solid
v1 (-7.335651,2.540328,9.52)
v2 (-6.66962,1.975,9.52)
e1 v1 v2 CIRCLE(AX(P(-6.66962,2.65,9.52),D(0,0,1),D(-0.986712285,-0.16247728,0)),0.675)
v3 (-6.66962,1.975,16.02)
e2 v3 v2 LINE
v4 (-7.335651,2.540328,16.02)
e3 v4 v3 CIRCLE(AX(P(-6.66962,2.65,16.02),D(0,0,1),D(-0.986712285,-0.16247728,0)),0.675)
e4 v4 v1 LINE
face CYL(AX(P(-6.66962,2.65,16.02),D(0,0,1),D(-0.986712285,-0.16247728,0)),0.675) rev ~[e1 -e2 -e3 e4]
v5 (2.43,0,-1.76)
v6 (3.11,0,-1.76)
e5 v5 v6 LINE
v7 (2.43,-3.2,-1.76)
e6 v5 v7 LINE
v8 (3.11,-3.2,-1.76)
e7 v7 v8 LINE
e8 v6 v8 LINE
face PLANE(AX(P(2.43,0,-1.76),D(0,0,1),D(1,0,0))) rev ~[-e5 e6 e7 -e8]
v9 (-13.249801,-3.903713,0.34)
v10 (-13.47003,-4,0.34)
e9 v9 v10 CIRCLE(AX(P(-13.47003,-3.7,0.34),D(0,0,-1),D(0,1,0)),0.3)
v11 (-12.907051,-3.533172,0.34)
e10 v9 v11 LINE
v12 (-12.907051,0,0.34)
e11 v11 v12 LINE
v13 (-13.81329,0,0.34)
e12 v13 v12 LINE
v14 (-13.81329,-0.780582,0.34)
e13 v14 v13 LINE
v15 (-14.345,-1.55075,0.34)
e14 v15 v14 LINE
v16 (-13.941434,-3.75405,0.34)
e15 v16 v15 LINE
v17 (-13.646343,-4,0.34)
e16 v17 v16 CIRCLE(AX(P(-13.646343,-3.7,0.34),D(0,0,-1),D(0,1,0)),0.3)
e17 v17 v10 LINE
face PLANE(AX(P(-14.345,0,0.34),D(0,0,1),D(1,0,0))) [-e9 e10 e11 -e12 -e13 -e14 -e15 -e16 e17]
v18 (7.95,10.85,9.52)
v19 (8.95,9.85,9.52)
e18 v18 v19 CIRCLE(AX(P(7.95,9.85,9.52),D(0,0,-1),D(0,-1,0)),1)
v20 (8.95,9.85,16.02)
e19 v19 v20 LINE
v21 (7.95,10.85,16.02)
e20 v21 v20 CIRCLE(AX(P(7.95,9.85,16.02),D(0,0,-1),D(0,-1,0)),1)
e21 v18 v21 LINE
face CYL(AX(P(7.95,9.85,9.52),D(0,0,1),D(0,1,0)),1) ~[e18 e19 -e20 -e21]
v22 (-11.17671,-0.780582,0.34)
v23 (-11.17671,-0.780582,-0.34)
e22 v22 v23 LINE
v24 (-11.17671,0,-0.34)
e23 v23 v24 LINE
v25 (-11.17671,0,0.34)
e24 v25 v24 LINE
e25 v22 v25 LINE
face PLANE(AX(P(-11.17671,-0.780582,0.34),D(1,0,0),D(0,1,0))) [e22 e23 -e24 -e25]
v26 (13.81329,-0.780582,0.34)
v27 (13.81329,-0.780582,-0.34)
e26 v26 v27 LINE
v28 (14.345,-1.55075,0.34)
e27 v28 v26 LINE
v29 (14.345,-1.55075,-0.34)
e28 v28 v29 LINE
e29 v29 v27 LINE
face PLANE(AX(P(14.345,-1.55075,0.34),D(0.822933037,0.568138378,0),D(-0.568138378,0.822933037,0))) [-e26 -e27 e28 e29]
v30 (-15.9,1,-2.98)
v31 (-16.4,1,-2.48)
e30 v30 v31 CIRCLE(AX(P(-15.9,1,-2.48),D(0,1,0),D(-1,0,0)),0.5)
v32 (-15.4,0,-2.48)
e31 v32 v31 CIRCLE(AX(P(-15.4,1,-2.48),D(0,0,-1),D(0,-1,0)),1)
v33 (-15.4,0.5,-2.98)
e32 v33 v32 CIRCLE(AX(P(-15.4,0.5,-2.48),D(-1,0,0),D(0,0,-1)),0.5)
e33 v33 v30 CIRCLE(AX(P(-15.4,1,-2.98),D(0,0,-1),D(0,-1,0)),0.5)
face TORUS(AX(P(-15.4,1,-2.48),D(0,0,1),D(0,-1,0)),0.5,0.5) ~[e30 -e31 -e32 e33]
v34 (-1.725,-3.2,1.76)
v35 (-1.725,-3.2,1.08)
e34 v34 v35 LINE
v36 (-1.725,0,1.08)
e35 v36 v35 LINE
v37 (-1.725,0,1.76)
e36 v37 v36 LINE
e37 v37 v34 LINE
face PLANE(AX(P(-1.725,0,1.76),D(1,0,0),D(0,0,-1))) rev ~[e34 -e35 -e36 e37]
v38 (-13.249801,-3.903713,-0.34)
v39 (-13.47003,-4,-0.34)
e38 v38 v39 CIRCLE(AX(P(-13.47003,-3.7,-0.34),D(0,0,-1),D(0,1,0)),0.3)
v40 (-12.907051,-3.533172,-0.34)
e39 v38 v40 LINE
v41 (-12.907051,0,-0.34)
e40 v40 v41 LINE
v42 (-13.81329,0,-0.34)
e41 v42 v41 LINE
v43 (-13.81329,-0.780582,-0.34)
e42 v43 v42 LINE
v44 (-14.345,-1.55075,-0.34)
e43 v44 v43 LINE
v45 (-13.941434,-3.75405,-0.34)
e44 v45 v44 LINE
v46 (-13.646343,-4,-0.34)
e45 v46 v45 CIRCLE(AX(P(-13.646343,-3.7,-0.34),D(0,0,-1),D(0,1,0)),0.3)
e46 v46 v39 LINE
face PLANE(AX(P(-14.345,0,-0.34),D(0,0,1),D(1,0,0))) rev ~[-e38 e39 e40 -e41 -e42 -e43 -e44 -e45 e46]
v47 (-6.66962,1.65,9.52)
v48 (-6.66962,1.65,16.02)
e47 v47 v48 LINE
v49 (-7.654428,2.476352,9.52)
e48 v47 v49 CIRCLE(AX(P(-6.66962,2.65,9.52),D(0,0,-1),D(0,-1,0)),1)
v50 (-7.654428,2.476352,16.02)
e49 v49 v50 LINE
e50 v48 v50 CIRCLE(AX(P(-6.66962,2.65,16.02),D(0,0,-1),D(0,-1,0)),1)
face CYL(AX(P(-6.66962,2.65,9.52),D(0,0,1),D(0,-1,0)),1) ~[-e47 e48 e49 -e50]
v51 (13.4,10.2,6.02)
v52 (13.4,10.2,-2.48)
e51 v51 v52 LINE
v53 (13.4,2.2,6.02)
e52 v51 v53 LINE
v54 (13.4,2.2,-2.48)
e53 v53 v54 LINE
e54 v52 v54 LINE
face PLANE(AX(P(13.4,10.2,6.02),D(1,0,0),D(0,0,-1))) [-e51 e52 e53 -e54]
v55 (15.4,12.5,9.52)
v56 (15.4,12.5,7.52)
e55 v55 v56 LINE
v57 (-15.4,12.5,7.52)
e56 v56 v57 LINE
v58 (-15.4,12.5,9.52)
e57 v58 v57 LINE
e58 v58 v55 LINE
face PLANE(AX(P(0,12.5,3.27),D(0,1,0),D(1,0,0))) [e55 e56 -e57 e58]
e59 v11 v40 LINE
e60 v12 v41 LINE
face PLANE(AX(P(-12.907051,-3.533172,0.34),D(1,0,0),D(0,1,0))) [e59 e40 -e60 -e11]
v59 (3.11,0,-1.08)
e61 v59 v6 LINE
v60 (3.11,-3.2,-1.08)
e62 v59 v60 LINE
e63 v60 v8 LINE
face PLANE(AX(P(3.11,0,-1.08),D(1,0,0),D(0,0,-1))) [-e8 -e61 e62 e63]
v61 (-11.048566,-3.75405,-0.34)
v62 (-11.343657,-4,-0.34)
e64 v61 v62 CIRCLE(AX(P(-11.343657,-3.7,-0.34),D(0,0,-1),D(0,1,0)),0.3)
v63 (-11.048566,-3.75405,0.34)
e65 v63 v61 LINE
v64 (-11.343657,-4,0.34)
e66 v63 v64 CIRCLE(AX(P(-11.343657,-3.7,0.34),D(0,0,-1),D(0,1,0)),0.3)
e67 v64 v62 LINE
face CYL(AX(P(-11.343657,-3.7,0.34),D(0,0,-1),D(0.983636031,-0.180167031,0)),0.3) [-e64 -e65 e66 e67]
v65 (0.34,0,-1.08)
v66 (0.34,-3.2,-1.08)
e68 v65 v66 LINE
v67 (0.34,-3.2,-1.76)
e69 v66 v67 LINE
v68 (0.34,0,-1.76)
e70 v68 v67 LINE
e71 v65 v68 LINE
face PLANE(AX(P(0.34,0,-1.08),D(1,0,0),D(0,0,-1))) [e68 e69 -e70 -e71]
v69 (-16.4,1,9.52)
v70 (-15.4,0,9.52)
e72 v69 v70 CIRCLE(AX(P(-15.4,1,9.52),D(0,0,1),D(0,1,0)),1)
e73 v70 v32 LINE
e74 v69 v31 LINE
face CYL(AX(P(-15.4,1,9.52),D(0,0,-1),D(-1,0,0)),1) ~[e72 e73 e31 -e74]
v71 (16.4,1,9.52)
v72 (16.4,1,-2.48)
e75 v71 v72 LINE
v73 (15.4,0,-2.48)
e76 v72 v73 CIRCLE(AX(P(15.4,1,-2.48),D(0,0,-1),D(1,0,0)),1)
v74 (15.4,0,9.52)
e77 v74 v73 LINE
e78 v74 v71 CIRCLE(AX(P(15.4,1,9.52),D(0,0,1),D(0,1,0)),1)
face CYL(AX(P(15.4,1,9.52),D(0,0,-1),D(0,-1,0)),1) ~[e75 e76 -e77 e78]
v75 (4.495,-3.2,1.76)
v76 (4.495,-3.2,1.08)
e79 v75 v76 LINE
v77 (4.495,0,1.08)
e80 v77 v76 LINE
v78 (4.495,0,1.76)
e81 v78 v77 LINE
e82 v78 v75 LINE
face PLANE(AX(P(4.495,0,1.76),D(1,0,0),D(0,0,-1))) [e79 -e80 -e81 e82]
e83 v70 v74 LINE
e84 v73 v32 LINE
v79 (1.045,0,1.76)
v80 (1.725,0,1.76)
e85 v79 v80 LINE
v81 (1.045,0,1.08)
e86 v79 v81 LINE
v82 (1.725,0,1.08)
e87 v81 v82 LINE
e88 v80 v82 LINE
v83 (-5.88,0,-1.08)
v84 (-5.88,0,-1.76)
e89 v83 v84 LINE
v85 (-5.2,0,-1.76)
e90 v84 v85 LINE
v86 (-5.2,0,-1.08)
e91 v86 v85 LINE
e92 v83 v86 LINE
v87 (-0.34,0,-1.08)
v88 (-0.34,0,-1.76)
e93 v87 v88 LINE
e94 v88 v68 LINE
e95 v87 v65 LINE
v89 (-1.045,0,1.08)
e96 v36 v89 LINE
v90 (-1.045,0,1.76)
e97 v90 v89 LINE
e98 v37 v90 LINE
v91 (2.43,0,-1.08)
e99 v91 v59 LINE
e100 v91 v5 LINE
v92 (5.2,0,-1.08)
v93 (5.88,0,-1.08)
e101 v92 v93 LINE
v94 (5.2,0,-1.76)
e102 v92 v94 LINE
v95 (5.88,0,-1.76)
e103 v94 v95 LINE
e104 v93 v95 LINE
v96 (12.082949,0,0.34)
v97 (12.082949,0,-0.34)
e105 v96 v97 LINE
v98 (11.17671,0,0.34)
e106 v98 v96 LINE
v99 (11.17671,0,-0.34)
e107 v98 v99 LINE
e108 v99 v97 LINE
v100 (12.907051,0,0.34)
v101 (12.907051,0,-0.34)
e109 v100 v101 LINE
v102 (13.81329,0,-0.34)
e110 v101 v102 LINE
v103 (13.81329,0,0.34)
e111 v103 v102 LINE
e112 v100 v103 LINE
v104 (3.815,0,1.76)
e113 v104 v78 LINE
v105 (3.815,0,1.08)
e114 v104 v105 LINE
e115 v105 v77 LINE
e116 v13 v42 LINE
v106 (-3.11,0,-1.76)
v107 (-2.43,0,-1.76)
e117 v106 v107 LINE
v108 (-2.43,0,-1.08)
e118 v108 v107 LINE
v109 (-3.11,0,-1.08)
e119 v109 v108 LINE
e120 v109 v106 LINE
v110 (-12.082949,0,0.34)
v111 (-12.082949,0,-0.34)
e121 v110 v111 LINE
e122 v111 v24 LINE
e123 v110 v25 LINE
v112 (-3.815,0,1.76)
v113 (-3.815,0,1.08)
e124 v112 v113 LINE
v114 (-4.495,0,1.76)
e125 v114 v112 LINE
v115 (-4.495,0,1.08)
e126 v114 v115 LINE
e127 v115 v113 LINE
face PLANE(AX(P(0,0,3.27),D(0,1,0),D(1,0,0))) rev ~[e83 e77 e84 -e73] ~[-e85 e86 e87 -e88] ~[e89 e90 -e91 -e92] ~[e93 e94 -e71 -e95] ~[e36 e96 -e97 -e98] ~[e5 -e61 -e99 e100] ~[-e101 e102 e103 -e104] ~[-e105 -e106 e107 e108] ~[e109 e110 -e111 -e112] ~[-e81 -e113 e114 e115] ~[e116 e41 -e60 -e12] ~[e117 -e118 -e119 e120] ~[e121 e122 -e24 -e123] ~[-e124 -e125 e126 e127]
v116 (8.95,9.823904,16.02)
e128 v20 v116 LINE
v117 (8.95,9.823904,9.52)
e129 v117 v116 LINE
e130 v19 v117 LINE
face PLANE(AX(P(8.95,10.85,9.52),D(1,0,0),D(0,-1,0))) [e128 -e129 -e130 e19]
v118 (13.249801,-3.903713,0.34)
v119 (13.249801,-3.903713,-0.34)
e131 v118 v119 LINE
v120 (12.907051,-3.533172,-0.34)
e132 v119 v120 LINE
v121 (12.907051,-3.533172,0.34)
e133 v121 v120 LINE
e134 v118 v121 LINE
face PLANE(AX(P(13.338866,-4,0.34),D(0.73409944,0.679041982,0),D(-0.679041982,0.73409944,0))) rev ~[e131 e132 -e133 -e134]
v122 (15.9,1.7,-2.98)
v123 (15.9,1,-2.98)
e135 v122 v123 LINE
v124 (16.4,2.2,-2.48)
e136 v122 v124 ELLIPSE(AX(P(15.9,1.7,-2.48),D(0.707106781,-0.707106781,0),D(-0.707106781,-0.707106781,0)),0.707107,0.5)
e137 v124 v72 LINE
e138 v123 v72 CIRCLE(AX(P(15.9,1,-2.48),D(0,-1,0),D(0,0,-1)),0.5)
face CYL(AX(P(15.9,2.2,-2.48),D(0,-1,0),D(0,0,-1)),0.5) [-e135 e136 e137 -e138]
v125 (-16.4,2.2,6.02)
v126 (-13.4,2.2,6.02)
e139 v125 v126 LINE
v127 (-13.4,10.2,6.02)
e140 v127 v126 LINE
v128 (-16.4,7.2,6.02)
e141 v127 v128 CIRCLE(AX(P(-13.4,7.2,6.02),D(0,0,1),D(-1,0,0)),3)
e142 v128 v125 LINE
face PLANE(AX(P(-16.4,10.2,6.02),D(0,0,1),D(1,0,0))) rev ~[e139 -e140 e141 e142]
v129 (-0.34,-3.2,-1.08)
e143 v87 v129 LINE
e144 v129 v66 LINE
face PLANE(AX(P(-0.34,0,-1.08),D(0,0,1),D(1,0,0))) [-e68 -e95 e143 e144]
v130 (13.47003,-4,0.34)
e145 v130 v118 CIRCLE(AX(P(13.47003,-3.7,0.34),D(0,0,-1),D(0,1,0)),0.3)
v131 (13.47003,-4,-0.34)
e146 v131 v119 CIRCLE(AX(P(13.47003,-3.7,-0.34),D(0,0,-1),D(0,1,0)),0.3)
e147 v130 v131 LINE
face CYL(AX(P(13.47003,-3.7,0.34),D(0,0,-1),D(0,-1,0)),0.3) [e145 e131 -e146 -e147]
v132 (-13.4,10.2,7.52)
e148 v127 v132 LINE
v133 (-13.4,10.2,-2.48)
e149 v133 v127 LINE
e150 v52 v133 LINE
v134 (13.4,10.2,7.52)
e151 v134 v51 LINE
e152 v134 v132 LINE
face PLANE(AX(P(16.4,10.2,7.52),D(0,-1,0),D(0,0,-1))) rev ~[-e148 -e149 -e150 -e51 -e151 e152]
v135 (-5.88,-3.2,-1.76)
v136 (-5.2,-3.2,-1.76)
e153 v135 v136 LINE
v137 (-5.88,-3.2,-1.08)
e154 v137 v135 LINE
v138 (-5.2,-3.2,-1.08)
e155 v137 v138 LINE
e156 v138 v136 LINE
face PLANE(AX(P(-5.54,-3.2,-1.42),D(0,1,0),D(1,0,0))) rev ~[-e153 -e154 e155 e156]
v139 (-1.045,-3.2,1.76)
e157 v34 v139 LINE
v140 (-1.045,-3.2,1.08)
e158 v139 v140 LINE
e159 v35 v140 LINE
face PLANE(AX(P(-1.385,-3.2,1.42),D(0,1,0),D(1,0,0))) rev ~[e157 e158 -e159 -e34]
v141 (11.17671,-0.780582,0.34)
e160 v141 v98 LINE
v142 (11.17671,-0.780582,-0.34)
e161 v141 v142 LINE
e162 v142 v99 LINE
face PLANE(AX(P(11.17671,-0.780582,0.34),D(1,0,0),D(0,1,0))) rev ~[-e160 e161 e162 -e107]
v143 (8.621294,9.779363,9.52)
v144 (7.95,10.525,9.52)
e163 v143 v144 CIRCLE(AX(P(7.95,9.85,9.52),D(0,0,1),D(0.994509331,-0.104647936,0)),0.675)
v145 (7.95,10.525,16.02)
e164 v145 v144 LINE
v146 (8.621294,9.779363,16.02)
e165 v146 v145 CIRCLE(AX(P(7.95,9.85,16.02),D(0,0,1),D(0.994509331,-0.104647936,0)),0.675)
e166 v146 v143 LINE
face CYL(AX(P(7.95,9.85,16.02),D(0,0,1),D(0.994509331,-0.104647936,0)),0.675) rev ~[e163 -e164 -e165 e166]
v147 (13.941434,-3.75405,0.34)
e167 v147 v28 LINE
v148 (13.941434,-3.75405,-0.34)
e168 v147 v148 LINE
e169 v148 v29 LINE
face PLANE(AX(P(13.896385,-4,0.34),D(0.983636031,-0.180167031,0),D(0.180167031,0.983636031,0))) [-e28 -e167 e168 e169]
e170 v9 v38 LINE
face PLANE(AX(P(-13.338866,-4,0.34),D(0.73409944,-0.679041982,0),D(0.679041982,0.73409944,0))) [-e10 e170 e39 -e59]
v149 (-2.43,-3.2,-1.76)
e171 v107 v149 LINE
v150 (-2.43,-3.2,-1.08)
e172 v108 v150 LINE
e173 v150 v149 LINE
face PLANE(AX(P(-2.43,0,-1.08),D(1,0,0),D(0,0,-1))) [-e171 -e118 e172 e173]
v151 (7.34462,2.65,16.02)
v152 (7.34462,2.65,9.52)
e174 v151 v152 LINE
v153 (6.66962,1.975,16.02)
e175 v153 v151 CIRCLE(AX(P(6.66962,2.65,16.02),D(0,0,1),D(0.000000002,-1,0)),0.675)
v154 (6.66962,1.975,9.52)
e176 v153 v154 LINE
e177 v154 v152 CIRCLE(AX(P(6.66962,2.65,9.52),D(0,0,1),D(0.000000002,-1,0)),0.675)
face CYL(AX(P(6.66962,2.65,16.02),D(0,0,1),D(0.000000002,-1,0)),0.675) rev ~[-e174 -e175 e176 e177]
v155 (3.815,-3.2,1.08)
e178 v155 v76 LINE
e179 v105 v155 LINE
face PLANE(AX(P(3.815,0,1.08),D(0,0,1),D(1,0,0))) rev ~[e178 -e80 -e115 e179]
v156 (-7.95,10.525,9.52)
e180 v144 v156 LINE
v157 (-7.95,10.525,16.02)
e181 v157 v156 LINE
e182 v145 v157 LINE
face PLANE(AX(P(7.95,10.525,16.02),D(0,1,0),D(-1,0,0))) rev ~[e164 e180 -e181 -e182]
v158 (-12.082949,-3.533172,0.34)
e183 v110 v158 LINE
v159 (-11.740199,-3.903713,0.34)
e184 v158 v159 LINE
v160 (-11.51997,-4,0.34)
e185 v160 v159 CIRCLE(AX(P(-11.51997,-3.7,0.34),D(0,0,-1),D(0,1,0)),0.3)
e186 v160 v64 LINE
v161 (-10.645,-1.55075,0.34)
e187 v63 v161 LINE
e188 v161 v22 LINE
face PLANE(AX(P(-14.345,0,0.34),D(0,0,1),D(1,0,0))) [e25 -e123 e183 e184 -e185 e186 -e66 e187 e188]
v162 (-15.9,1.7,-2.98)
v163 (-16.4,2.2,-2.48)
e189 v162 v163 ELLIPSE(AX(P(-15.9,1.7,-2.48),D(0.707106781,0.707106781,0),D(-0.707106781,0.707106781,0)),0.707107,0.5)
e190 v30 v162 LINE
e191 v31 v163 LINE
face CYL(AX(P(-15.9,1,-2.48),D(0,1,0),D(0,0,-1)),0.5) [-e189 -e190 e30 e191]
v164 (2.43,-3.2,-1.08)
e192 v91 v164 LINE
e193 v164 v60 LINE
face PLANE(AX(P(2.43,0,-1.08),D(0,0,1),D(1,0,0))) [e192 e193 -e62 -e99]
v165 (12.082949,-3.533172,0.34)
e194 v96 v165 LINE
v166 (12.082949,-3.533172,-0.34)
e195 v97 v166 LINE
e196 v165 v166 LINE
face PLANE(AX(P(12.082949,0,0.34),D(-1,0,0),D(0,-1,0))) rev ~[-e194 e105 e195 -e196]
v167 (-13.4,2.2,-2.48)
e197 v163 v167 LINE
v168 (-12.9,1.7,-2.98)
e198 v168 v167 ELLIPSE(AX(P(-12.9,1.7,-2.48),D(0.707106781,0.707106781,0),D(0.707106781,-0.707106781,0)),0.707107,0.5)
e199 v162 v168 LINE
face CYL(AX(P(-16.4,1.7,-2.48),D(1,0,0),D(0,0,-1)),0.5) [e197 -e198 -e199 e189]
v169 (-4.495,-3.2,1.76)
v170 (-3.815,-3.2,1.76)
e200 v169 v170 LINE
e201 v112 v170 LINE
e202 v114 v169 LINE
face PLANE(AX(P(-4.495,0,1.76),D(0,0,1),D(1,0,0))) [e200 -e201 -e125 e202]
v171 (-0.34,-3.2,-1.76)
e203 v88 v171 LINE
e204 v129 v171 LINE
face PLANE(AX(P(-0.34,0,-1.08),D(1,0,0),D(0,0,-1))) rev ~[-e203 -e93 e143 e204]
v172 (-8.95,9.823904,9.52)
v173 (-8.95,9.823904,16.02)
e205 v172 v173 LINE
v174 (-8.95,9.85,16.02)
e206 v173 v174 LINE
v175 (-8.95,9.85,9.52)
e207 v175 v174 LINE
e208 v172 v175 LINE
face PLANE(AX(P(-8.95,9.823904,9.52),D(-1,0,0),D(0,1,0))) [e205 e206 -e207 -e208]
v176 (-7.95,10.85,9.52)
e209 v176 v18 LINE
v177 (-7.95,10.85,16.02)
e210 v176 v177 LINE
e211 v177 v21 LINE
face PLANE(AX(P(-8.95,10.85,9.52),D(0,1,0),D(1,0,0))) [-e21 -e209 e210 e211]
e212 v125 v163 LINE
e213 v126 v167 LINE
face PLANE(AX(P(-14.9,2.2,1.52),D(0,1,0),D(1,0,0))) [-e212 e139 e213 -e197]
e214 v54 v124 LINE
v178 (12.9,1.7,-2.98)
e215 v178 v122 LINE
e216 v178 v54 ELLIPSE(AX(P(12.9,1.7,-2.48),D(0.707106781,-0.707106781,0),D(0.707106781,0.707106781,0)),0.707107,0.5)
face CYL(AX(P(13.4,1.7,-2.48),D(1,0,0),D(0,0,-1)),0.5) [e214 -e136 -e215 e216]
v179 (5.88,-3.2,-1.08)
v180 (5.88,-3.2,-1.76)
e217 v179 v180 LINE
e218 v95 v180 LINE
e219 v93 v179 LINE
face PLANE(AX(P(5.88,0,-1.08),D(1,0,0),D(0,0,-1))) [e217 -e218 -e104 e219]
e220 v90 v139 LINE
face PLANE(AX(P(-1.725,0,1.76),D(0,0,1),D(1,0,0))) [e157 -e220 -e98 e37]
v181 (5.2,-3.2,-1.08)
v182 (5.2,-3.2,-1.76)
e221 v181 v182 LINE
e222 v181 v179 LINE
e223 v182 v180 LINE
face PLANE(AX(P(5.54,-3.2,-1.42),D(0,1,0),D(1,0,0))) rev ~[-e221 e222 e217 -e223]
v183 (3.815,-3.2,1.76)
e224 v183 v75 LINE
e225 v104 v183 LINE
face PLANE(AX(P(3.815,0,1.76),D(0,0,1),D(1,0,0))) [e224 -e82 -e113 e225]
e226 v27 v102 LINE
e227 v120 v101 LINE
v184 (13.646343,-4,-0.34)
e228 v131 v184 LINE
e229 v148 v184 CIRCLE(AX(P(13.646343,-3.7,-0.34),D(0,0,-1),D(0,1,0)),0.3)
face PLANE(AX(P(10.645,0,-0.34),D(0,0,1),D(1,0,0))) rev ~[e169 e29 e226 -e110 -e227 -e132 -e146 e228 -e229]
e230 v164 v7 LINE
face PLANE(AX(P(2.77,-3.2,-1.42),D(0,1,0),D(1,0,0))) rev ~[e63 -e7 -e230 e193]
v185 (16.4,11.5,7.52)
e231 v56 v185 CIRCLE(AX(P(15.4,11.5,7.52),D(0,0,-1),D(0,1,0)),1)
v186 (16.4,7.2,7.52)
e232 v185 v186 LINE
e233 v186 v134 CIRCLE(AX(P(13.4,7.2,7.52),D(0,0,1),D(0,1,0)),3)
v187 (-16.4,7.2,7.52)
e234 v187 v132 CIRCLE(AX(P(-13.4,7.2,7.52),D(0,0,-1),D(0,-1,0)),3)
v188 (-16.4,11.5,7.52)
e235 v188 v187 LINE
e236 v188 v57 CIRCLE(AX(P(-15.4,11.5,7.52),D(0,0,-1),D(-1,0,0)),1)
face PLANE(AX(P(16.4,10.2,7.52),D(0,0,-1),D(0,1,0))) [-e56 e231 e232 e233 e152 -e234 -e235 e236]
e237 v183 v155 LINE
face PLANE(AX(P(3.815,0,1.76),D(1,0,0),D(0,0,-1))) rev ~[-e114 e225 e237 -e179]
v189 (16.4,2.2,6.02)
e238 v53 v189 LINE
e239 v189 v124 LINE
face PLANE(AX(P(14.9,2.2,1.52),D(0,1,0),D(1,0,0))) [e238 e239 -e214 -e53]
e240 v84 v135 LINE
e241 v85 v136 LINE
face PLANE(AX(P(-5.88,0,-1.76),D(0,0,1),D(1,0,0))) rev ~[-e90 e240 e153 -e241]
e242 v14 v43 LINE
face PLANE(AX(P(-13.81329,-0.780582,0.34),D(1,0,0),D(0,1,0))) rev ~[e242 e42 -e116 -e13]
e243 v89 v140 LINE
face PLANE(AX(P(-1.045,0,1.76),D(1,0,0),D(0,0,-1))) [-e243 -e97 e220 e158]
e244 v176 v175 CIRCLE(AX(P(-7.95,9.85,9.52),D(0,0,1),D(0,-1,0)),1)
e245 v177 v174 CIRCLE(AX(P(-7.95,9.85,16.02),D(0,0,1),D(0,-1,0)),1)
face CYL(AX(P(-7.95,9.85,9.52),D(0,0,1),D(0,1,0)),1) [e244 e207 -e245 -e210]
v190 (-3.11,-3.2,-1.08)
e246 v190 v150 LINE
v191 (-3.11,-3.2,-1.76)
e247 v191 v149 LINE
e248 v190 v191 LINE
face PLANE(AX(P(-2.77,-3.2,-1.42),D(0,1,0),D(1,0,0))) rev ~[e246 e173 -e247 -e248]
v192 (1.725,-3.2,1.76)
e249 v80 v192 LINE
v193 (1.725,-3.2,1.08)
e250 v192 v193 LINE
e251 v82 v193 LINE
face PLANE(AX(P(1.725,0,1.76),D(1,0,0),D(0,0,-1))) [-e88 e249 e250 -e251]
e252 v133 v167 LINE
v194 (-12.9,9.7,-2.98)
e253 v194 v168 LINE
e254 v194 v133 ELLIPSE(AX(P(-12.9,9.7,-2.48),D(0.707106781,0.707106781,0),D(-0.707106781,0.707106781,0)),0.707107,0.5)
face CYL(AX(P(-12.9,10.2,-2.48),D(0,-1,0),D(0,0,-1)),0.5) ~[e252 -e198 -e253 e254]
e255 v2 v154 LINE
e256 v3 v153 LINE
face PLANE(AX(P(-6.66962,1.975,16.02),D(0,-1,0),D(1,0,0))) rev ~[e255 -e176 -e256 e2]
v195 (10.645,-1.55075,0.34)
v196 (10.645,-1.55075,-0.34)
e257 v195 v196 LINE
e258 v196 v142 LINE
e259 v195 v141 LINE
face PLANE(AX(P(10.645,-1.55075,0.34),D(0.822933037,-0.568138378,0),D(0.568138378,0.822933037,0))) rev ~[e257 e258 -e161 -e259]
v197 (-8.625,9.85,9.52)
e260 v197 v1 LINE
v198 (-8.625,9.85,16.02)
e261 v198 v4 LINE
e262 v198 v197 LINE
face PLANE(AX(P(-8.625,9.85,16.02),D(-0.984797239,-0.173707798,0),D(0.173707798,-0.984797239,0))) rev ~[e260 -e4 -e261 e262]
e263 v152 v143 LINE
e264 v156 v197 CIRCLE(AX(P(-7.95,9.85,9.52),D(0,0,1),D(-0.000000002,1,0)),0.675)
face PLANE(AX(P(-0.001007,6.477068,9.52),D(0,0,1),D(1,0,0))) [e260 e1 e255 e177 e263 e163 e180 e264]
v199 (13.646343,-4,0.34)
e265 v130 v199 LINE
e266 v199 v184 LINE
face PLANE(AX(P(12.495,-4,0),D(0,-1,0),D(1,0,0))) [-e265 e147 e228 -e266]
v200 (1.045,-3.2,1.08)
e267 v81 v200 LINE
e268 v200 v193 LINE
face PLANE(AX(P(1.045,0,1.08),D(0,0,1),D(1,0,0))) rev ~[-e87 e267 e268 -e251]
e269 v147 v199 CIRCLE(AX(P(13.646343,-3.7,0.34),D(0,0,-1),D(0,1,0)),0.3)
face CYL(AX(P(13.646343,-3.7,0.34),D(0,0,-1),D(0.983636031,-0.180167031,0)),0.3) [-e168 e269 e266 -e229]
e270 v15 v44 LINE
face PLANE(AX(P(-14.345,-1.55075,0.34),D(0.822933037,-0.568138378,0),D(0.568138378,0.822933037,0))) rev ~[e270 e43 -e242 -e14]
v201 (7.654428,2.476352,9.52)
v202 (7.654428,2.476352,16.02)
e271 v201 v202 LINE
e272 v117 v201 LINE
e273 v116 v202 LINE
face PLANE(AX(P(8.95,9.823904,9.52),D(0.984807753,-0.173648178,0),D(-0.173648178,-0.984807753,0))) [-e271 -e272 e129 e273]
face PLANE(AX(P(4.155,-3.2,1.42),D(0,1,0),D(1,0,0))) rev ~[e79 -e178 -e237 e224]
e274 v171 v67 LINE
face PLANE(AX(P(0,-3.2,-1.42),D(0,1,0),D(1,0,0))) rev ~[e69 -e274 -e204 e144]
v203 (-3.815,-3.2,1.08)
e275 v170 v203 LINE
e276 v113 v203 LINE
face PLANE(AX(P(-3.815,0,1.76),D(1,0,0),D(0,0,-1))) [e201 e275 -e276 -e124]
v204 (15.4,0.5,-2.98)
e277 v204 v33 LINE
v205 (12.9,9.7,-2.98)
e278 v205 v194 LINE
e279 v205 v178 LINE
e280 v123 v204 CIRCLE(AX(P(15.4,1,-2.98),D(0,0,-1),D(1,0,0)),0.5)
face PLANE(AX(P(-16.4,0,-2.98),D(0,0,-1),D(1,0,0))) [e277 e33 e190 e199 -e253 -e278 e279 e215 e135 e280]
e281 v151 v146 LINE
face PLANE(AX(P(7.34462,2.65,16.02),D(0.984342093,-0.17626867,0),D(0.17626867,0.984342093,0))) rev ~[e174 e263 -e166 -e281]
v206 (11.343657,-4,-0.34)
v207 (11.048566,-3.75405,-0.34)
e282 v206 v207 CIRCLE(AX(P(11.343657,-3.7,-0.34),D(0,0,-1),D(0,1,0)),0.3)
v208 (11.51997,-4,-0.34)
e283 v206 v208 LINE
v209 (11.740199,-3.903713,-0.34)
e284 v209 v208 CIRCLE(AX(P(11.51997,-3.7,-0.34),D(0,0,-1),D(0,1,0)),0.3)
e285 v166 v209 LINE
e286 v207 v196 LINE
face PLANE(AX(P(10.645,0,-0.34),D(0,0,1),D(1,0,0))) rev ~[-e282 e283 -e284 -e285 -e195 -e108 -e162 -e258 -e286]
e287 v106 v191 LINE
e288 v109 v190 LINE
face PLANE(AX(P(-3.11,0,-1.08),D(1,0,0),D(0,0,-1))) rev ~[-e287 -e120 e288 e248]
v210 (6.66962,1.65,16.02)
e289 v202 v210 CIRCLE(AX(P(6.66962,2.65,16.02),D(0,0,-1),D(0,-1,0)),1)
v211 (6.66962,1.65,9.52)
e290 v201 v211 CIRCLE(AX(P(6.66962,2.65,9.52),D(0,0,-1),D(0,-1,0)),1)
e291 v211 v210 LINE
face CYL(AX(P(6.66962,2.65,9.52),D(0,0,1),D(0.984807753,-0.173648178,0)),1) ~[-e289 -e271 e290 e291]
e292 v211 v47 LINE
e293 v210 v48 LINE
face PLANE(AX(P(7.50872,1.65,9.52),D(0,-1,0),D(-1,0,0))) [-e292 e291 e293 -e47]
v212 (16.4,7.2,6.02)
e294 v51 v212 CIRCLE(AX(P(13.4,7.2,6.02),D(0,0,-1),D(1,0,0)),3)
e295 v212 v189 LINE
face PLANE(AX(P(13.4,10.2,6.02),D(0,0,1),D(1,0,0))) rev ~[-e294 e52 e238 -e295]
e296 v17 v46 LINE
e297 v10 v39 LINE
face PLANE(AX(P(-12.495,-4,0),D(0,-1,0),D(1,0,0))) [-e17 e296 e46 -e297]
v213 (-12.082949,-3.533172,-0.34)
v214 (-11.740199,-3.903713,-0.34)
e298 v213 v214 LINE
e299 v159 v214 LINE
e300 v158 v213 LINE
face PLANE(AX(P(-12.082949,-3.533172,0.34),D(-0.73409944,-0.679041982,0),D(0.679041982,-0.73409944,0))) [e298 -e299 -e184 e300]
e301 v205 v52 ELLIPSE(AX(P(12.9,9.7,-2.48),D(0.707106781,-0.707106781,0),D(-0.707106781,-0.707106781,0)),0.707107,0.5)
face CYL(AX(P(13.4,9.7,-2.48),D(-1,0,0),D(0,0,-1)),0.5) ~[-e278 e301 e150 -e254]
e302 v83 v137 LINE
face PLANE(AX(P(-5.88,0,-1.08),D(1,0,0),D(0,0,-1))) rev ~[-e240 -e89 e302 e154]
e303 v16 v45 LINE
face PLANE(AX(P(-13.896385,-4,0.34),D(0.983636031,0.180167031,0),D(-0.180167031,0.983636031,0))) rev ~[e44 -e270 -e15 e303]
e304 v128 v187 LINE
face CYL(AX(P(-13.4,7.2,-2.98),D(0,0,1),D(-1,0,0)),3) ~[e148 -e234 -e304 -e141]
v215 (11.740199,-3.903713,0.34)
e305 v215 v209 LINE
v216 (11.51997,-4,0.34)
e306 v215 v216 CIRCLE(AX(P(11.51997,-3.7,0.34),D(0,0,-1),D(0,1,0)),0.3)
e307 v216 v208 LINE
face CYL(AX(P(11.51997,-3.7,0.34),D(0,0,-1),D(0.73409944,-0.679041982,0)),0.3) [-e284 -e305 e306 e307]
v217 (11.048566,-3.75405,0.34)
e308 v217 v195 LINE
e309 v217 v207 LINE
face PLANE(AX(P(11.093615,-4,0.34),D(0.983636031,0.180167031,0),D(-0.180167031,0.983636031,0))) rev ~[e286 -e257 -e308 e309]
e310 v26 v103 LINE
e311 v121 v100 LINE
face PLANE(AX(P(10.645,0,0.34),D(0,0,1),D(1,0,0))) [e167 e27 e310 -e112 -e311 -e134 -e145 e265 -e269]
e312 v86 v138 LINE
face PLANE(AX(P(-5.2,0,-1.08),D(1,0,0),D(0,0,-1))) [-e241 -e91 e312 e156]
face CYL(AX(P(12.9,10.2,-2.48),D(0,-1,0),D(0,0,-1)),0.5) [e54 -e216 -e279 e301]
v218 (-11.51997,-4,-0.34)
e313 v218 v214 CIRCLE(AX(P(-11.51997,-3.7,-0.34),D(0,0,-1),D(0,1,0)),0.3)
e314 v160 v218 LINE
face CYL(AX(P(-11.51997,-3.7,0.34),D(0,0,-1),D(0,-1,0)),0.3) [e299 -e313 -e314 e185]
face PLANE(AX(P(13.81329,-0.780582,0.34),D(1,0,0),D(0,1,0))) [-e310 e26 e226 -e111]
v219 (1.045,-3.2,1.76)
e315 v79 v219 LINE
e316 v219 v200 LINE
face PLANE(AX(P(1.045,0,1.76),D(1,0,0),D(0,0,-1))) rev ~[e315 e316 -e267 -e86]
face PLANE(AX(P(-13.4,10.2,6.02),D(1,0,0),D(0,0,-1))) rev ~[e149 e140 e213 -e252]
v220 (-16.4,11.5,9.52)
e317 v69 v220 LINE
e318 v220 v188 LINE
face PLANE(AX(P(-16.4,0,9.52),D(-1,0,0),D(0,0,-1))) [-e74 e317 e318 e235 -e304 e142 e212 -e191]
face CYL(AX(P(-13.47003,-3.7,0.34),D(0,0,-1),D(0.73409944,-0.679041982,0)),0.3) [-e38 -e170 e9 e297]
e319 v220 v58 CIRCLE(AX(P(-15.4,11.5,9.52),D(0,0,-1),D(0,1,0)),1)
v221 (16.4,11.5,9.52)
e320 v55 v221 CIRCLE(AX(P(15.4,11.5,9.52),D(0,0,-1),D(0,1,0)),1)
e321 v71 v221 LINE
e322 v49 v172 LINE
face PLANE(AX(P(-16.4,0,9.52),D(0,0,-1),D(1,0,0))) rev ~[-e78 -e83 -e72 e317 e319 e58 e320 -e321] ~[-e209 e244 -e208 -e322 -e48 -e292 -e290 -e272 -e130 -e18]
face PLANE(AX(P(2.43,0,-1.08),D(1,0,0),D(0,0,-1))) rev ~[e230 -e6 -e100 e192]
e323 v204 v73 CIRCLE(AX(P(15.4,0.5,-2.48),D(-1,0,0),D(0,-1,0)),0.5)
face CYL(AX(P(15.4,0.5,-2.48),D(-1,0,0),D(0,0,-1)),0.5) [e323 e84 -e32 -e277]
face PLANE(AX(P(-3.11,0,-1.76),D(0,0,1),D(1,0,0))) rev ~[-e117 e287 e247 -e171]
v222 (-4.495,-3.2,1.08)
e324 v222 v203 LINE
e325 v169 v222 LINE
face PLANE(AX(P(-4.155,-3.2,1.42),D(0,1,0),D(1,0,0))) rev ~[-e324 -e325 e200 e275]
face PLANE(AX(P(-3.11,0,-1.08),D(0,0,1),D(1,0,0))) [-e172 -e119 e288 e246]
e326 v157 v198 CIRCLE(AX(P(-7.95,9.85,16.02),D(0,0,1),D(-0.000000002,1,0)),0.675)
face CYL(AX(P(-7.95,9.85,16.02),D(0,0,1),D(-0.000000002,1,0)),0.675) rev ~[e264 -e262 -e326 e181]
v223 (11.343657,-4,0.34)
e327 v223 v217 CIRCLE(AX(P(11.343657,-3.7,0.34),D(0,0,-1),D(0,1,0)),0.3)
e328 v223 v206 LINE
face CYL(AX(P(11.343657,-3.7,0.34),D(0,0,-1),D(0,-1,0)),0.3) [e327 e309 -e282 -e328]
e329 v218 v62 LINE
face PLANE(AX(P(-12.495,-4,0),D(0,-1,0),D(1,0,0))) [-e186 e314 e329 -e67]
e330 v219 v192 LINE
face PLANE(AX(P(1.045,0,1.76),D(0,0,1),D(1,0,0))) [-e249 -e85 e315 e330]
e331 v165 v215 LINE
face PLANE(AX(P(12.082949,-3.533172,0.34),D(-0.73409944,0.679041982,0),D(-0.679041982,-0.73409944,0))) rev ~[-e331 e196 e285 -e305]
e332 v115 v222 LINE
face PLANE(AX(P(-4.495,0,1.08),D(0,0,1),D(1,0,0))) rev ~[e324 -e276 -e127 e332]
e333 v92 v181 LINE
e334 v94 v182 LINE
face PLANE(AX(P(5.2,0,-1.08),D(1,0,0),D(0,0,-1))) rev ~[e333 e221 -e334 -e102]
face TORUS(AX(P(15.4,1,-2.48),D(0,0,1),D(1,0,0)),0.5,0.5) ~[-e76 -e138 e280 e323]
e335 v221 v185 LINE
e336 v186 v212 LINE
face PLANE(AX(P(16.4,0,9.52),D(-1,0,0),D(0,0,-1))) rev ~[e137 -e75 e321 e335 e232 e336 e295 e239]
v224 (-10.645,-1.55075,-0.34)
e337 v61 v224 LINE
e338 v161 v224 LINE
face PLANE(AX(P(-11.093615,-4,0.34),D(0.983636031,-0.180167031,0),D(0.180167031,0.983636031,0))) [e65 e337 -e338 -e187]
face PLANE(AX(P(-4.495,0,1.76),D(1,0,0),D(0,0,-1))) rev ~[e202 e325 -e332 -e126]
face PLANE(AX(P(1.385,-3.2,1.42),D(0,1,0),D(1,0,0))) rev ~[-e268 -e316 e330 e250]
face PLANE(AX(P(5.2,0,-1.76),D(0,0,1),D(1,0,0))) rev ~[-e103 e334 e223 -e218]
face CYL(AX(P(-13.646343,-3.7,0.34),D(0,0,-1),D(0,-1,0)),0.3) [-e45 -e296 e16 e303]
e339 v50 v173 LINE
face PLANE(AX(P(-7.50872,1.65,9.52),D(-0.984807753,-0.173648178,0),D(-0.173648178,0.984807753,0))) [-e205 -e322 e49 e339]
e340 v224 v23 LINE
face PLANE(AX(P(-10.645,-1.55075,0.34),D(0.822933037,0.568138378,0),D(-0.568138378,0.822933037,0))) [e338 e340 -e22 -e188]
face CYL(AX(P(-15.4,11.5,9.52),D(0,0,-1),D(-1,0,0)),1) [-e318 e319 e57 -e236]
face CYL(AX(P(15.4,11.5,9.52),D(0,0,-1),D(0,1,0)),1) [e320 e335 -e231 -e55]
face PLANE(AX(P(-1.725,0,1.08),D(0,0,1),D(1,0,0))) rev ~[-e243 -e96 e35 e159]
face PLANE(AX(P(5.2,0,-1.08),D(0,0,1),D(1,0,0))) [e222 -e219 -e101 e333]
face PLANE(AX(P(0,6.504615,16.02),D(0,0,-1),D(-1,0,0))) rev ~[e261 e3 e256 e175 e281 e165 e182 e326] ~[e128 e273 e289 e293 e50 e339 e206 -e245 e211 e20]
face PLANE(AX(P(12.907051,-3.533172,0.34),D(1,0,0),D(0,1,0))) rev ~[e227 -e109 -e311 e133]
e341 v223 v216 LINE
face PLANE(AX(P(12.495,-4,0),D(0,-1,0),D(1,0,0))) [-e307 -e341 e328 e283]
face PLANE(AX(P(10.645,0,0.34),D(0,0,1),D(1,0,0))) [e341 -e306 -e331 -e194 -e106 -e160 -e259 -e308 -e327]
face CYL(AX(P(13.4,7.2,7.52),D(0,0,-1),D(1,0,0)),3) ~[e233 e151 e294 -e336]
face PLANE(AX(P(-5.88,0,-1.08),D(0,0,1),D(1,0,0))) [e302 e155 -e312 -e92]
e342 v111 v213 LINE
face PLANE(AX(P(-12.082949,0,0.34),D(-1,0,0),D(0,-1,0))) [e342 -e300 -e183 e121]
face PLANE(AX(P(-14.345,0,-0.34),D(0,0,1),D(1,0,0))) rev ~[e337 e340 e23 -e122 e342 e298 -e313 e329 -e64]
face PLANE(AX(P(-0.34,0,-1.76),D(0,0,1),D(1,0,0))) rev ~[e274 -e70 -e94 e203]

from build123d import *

# Parameters (mm, degrees)
SKETCH1_W             = 0.68
SKETCH1_H             = 0.68
BOSS_EXTRUDE1_DEPTH   = 3.2
BOSS_EXTRUDE1_2_DEPTH = 3.2
BOSS_EXTRUDE1_3_DEPTH = 3.2
BOSS_EXTRUDE1_4_DEPTH = 3.2
BOSS_EXTRUDE1_5_DEPTH = 3.2
BOSS_EXTRUDE1_6_DEPTH = 3.2
BOSS_EXTRUDE1_7_DEPTH = 3.2
BOSS_EXTRUDE1_8_DEPTH = 3.2
BOSS_EXTRUDE1_9_DEPTH = 3.2
SKETCH2_W             = 32.8
SKETCH2_H             = 12.5
BOSS_EXTRUDE2_DEPTH   = 12.5
FILLET1_R             = 1
SKETCH3_W             = 10.5
SKETCH3_H             = 2.3
CUT_EXTRUDE1_DEPTH    = 37.369223253
SKETCH4_W             = 3.7
SKETCH4_H             = 0.68
BOSS_EXTRUDE3_DEPTH   = 4
CUT_EXTRUDE5_DEPTH    = 23.571716816
FILLET2_R             = 0.3
BOSS_EXTRUDE4_DEPTH   = 6.5
FILLET3_R             = 1
CUT_EXTRUDE6_DEPTH    = 6.5
FILLET4_R             = 3
SKETCH12_W            = 3
SKETCH12_H            = 9
CUT_EXTRUDE7_DEPTH    = 8
FILLET5_R             = 0.5


with BuildPart() as part:
    # Sketch1 → Boss-Extrude1 (new body)
    with BuildSketch(Plane(origin=(0, 0, 0), x_dir=(1, 0, 0), z_dir=(0, 1, 0))):
        with Locations((1.385, -1.42)):
            Rectangle(SKETCH1_W, SKETCH1_H)
    extrude(amount=-BOSS_EXTRUDE1_DEPTH)



with BuildPart() as body_2:
    # Sketch1 → Boss-Extrude1 2 (new body)
    with BuildSketch(Plane(origin=(0, 0, 0), x_dir=(1, 0, 0), z_dir=(0, 1, 0))):
        with Locations((-1.385, -1.42)):
            Rectangle(SKETCH1_W, SKETCH1_H)
    extrude(amount=-BOSS_EXTRUDE1_2_DEPTH)


with BuildPart() as body_3:
    # Sketch1 → Boss-Extrude1 3 (new body)
    with BuildSketch(Plane(origin=(0, 0, 0), x_dir=(1, 0, 0), z_dir=(0, 1, 0))):
        with Locations((-5.54, 1.42)):
            Rectangle(SKETCH1_W, SKETCH1_H)
    extrude(amount=-BOSS_EXTRUDE1_3_DEPTH)


with BuildPart() as body_4:
    # Sketch1 → Boss-Extrude1 4 (new body)
    with BuildSketch(Plane(origin=(0, 0, 0), x_dir=(1, 0, 0), z_dir=(0, 1, 0))):
        with Locations((-2.77, 1.42)):
            Rectangle(SKETCH1_W, SKETCH1_H)
    extrude(amount=-BOSS_EXTRUDE1_4_DEPTH)


with BuildPart() as body_5:
    # Sketch1 → Boss-Extrude1 5 (new body)
    with BuildSketch(Plane(origin=(0, 0, 0), x_dir=(1, 0, 0), z_dir=(0, 1, 0))):
        with Locations((-4.155, -1.42)):
            Rectangle(SKETCH1_W, SKETCH1_H)
    extrude(amount=-BOSS_EXTRUDE1_5_DEPTH)


with BuildPart() as body_6:
    # Sketch1 → Boss-Extrude1 6 (new body)
    with BuildSketch(Plane(origin=(0, 0, 0), x_dir=(1, 0, 0), z_dir=(0, 1, 0))):
        with Locations((0, 1.42)):
            Rectangle(SKETCH1_W, SKETCH1_H)
    extrude(amount=-BOSS_EXTRUDE1_6_DEPTH)


with BuildPart() as body_7:
    # Sketch1 → Boss-Extrude1 7 (new body)
    with BuildSketch(Plane(origin=(0, 0, 0), x_dir=(1, 0, 0), z_dir=(0, 1, 0))):
        with Locations((4.155, -1.42)):
            Rectangle(SKETCH1_W, SKETCH1_H)
    extrude(amount=-BOSS_EXTRUDE1_7_DEPTH)


with BuildPart() as body_8:
    # Sketch1 → Boss-Extrude1 8 (new body)
    with BuildSketch(Plane(origin=(0, 0, 0), x_dir=(1, 0, 0), z_dir=(0, 1, 0))):
        with Locations((5.54, 1.42)):
            Rectangle(SKETCH1_W, SKETCH1_H)
    extrude(amount=-BOSS_EXTRUDE1_8_DEPTH)


with BuildPart() as body_9:
    # Sketch1 → Boss-Extrude1 9 (new body)
    with BuildSketch(Plane(origin=(0, 0, 0), x_dir=(1, 0, 0), z_dir=(0, 1, 0))):
        with Locations((2.77, 1.42)):
            Rectangle(SKETCH1_W, SKETCH1_H)
    extrude(amount=-BOSS_EXTRUDE1_9_DEPTH)


with BuildPart() as part_1:
    add(part.part)

    add(body_2.part)  # Boss-Extrude2 merges body 2

    add(body_3.part)  # Boss-Extrude2 merges body 3

    add(body_4.part)  # Boss-Extrude2 merges body 4

    add(body_5.part)  # Boss-Extrude2 merges body 5

    add(body_6.part)  # Boss-Extrude2 merges body 6

    add(body_7.part)  # Boss-Extrude2 merges body 7

    add(body_8.part)  # Boss-Extrude2 merges body 8

    add(body_9.part)  # Boss-Extrude2 merges body 9
    # Sketch2 → Boss-Extrude2 (add)
    with BuildSketch(Plane(origin=(0, 0, 0), x_dir=(1, 0, 0), z_dir=(0, 1, 0))):
        with Locations((0, -3.27)):
            Rectangle(SKETCH2_W, SKETCH2_H)
    extrude(amount=BOSS_EXTRUDE2_DEPTH)

    # Fillet1
    fillet1_edges = [part_1.edges().sort_by_distance(p)[0] for p in [
        (-16.4, 0, 3.27),
        (16.4, 0, 3.27),
        (-16.4, 12.5, 3.27),
        (16.4, 12.5, 3.27),
    ]]
    fillet(fillet1_edges, radius=FILLET1_R)

    # Sketch3 → Cut-Extrude1 (cut, through all)
    with BuildSketch(Plane(origin=(16.4, 0, 0), x_dir=(0, 0, -1), z_dir=(1, 0, 0))):
        with Locations((-2.27, 11.35)):
            Rectangle(SKETCH3_W, SKETCH3_H)
    extrude(amount=-CUT_EXTRUDE1_DEPTH, mode=Mode.SUBTRACT)

    # Sketch4 → Boss-Extrude3 (add)
    with BuildSketch(Plane.XZ):
        with Locations((-12.495, 0)):
            Rectangle(SKETCH4_W, SKETCH4_H)
        with Locations((12.495, 0)):
            Rectangle(SKETCH4_W, SKETCH4_H)
    extrude(amount=BOSS_EXTRUDE3_DEPTH)

    # Sketch6 → Cut-Extrude5 (cut, through all)
    with BuildSketch(Plane.XY.offset(0.34)):
        Polygon((-14.345, -1.550750234), (-13.813289593, -0.780582126), (-13.813289593, 0), (-14.345, 0), (-14.827308736, 0), (-14.827308736, -4), (-13.896384817, -4), align=None)
        Polygon((-12.907050916, 0), (-12.082949084, 0), (-12.082949084, -3.533172452), (-11.651133602, -4), (-13.338866398, -4), (-12.907050916, -3.533172452), align=None)
        Polygon((-11.176710407, 0), (-10.645, 0), (-10.162691264, 0), (-10.162691264, -4), (-11.093615183, -4), (-10.645, -1.550750234), (-11.176710407, -0.780582126), align=None)
        Polygon((10.645, -1.550750234), (11.176710407, -0.780582126), (11.176710407, 0), (10.645, 0), (10.162691264, 0), (10.162691264, -4), (11.093615183, -4), align=None)
        Polygon((12.082949084, 0), (12.082949084, -3.533172452), (11.651133602, -4), (13.338866398, -4), (12.907050916, -3.533172452), (12.907050916, 0), align=None)
        Polygon((13.813289593, 0), (14.345, 0), (14.827308736, 0), (14.827308736, -4), (13.896384817, -4), (14.345, -1.550750234), (13.813289593, -0.780582126), align=None)
    extrude(amount=-CUT_EXTRUDE5_DEPTH, mode=Mode.SUBTRACT)

    # Fillet2
    fillet2_edges = [part_1.edges().sort_by_distance(p)[0] for p in [
        (13.896384817, -4, 0),
        (11.093615183, -4, 0),
        (11.651133602, -4, 0),
        (13.338866398, -4, 0),
        (-13.338866398, -4, 0),
        (-11.651133602, -4, 0),
        (-11.093615183, -4, 0),
        (-13.896384817, -4, 0),
    ]]
    fillet(fillet2_edges, radius=FILLET2_R)

    # Sketch7 → Boss-Extrude4 (add)
    with BuildSketch(Plane.XY.offset(9.52)):
        Polygon((-8.95, 10.85), (8.95, 10.85), (8.95, 9.82390435), (7.508720125, 1.65), (-7.508720125, 1.65), (-8.95, 9.82390435), align=None)
    extrude(amount=BOSS_EXTRUDE4_DEPTH)

    # Fillet3
    fillet3_edges = [part_1.edges().sort_by_distance(p)[0] for p in [
        (-8.95, 10.85, 12.77),
        (-7.508720125, 1.65, 12.77),
        (7.508720125, 1.65, 12.77),
        (8.95, 10.85, 12.77),
    ]]
    fillet(fillet3_edges, radius=FILLET3_R)

    # Sketch10 → Cut-Extrude6 (cut)
    with BuildSketch(Plane.XY.offset(16.02)):
        with BuildLine():
            Line((-8.625, 9.85), (-7.335651287, 2.540327837))
            ThreePointArc((-7.335651287, 2.540327837), (-7.106424964, 2.135386694), (-6.669620494, 1.975))
            Line((-6.669620494, 1.975), (6.669620494, 1.975))
            ThreePointArc((6.669620494, 1.975), (7.146917571, 2.172702923), (7.344620494, 2.65))
            Line((7.344620494, 2.65), (8.621293798, 9.779362644))
            ThreePointArc((8.621293798, 9.779362644), (8.451649886, 10.301633028), (7.95, 10.525))
            Line((7.95, 10.525), (-7.95, 10.525))
            ThreePointArc((-7.95, 10.525), (-8.427297077, 10.327297077), (-8.625, 9.85))
        make_face()
    extrude(amount=-CUT_EXTRUDE6_DEPTH, mode=Mode.SUBTRACT)

    # Fillet4
    fillet4_edges = [part_1.edges().sort_by_distance(p)[0] for p in [
        (-16.4, 10.2, 2.27),
        (16.4, 10.2, 2.27),
    ]]
    fillet(fillet4_edges, radius=FILLET4_R)

    # Sketch12 → Cut-Extrude7 (cut)
    with BuildSketch(Plane(origin=(0, 10.2, 0), x_dir=(1, 0, 0), z_dir=(0, 1, 0))):
        with Locations((-14.9, -1.52)):
            Rectangle(SKETCH12_W, SKETCH12_H)
        with Locations((14.9, -1.52)):
            Rectangle(SKETCH12_W, SKETCH12_H)
    extrude(amount=-CUT_EXTRUDE7_DEPTH, mode=Mode.SUBTRACT)

    # Fillet5
    fillet5_edges = [part_1.edges().sort_by_distance(p)[0] for p in [
        (0, 0, -2.98),
        (-16.107106781, 0.292893219, -2.98),
        (16.107106781, 0.292893219, -2.98),
        (0, 10.2, -2.98),
        (16.4, 1.6, -2.98),
        (-16.4, 1.6, -2.98),
        (-14.9, 2.2, -2.98),
        (-13.4, 6.2, -2.98),
        (14.9, 2.2, -2.98),
        (13.4, 6.2, -2.98),
    ]]
    fillet(fillet5_edges, radius=FILLET5_R)


solid = part_1.part
